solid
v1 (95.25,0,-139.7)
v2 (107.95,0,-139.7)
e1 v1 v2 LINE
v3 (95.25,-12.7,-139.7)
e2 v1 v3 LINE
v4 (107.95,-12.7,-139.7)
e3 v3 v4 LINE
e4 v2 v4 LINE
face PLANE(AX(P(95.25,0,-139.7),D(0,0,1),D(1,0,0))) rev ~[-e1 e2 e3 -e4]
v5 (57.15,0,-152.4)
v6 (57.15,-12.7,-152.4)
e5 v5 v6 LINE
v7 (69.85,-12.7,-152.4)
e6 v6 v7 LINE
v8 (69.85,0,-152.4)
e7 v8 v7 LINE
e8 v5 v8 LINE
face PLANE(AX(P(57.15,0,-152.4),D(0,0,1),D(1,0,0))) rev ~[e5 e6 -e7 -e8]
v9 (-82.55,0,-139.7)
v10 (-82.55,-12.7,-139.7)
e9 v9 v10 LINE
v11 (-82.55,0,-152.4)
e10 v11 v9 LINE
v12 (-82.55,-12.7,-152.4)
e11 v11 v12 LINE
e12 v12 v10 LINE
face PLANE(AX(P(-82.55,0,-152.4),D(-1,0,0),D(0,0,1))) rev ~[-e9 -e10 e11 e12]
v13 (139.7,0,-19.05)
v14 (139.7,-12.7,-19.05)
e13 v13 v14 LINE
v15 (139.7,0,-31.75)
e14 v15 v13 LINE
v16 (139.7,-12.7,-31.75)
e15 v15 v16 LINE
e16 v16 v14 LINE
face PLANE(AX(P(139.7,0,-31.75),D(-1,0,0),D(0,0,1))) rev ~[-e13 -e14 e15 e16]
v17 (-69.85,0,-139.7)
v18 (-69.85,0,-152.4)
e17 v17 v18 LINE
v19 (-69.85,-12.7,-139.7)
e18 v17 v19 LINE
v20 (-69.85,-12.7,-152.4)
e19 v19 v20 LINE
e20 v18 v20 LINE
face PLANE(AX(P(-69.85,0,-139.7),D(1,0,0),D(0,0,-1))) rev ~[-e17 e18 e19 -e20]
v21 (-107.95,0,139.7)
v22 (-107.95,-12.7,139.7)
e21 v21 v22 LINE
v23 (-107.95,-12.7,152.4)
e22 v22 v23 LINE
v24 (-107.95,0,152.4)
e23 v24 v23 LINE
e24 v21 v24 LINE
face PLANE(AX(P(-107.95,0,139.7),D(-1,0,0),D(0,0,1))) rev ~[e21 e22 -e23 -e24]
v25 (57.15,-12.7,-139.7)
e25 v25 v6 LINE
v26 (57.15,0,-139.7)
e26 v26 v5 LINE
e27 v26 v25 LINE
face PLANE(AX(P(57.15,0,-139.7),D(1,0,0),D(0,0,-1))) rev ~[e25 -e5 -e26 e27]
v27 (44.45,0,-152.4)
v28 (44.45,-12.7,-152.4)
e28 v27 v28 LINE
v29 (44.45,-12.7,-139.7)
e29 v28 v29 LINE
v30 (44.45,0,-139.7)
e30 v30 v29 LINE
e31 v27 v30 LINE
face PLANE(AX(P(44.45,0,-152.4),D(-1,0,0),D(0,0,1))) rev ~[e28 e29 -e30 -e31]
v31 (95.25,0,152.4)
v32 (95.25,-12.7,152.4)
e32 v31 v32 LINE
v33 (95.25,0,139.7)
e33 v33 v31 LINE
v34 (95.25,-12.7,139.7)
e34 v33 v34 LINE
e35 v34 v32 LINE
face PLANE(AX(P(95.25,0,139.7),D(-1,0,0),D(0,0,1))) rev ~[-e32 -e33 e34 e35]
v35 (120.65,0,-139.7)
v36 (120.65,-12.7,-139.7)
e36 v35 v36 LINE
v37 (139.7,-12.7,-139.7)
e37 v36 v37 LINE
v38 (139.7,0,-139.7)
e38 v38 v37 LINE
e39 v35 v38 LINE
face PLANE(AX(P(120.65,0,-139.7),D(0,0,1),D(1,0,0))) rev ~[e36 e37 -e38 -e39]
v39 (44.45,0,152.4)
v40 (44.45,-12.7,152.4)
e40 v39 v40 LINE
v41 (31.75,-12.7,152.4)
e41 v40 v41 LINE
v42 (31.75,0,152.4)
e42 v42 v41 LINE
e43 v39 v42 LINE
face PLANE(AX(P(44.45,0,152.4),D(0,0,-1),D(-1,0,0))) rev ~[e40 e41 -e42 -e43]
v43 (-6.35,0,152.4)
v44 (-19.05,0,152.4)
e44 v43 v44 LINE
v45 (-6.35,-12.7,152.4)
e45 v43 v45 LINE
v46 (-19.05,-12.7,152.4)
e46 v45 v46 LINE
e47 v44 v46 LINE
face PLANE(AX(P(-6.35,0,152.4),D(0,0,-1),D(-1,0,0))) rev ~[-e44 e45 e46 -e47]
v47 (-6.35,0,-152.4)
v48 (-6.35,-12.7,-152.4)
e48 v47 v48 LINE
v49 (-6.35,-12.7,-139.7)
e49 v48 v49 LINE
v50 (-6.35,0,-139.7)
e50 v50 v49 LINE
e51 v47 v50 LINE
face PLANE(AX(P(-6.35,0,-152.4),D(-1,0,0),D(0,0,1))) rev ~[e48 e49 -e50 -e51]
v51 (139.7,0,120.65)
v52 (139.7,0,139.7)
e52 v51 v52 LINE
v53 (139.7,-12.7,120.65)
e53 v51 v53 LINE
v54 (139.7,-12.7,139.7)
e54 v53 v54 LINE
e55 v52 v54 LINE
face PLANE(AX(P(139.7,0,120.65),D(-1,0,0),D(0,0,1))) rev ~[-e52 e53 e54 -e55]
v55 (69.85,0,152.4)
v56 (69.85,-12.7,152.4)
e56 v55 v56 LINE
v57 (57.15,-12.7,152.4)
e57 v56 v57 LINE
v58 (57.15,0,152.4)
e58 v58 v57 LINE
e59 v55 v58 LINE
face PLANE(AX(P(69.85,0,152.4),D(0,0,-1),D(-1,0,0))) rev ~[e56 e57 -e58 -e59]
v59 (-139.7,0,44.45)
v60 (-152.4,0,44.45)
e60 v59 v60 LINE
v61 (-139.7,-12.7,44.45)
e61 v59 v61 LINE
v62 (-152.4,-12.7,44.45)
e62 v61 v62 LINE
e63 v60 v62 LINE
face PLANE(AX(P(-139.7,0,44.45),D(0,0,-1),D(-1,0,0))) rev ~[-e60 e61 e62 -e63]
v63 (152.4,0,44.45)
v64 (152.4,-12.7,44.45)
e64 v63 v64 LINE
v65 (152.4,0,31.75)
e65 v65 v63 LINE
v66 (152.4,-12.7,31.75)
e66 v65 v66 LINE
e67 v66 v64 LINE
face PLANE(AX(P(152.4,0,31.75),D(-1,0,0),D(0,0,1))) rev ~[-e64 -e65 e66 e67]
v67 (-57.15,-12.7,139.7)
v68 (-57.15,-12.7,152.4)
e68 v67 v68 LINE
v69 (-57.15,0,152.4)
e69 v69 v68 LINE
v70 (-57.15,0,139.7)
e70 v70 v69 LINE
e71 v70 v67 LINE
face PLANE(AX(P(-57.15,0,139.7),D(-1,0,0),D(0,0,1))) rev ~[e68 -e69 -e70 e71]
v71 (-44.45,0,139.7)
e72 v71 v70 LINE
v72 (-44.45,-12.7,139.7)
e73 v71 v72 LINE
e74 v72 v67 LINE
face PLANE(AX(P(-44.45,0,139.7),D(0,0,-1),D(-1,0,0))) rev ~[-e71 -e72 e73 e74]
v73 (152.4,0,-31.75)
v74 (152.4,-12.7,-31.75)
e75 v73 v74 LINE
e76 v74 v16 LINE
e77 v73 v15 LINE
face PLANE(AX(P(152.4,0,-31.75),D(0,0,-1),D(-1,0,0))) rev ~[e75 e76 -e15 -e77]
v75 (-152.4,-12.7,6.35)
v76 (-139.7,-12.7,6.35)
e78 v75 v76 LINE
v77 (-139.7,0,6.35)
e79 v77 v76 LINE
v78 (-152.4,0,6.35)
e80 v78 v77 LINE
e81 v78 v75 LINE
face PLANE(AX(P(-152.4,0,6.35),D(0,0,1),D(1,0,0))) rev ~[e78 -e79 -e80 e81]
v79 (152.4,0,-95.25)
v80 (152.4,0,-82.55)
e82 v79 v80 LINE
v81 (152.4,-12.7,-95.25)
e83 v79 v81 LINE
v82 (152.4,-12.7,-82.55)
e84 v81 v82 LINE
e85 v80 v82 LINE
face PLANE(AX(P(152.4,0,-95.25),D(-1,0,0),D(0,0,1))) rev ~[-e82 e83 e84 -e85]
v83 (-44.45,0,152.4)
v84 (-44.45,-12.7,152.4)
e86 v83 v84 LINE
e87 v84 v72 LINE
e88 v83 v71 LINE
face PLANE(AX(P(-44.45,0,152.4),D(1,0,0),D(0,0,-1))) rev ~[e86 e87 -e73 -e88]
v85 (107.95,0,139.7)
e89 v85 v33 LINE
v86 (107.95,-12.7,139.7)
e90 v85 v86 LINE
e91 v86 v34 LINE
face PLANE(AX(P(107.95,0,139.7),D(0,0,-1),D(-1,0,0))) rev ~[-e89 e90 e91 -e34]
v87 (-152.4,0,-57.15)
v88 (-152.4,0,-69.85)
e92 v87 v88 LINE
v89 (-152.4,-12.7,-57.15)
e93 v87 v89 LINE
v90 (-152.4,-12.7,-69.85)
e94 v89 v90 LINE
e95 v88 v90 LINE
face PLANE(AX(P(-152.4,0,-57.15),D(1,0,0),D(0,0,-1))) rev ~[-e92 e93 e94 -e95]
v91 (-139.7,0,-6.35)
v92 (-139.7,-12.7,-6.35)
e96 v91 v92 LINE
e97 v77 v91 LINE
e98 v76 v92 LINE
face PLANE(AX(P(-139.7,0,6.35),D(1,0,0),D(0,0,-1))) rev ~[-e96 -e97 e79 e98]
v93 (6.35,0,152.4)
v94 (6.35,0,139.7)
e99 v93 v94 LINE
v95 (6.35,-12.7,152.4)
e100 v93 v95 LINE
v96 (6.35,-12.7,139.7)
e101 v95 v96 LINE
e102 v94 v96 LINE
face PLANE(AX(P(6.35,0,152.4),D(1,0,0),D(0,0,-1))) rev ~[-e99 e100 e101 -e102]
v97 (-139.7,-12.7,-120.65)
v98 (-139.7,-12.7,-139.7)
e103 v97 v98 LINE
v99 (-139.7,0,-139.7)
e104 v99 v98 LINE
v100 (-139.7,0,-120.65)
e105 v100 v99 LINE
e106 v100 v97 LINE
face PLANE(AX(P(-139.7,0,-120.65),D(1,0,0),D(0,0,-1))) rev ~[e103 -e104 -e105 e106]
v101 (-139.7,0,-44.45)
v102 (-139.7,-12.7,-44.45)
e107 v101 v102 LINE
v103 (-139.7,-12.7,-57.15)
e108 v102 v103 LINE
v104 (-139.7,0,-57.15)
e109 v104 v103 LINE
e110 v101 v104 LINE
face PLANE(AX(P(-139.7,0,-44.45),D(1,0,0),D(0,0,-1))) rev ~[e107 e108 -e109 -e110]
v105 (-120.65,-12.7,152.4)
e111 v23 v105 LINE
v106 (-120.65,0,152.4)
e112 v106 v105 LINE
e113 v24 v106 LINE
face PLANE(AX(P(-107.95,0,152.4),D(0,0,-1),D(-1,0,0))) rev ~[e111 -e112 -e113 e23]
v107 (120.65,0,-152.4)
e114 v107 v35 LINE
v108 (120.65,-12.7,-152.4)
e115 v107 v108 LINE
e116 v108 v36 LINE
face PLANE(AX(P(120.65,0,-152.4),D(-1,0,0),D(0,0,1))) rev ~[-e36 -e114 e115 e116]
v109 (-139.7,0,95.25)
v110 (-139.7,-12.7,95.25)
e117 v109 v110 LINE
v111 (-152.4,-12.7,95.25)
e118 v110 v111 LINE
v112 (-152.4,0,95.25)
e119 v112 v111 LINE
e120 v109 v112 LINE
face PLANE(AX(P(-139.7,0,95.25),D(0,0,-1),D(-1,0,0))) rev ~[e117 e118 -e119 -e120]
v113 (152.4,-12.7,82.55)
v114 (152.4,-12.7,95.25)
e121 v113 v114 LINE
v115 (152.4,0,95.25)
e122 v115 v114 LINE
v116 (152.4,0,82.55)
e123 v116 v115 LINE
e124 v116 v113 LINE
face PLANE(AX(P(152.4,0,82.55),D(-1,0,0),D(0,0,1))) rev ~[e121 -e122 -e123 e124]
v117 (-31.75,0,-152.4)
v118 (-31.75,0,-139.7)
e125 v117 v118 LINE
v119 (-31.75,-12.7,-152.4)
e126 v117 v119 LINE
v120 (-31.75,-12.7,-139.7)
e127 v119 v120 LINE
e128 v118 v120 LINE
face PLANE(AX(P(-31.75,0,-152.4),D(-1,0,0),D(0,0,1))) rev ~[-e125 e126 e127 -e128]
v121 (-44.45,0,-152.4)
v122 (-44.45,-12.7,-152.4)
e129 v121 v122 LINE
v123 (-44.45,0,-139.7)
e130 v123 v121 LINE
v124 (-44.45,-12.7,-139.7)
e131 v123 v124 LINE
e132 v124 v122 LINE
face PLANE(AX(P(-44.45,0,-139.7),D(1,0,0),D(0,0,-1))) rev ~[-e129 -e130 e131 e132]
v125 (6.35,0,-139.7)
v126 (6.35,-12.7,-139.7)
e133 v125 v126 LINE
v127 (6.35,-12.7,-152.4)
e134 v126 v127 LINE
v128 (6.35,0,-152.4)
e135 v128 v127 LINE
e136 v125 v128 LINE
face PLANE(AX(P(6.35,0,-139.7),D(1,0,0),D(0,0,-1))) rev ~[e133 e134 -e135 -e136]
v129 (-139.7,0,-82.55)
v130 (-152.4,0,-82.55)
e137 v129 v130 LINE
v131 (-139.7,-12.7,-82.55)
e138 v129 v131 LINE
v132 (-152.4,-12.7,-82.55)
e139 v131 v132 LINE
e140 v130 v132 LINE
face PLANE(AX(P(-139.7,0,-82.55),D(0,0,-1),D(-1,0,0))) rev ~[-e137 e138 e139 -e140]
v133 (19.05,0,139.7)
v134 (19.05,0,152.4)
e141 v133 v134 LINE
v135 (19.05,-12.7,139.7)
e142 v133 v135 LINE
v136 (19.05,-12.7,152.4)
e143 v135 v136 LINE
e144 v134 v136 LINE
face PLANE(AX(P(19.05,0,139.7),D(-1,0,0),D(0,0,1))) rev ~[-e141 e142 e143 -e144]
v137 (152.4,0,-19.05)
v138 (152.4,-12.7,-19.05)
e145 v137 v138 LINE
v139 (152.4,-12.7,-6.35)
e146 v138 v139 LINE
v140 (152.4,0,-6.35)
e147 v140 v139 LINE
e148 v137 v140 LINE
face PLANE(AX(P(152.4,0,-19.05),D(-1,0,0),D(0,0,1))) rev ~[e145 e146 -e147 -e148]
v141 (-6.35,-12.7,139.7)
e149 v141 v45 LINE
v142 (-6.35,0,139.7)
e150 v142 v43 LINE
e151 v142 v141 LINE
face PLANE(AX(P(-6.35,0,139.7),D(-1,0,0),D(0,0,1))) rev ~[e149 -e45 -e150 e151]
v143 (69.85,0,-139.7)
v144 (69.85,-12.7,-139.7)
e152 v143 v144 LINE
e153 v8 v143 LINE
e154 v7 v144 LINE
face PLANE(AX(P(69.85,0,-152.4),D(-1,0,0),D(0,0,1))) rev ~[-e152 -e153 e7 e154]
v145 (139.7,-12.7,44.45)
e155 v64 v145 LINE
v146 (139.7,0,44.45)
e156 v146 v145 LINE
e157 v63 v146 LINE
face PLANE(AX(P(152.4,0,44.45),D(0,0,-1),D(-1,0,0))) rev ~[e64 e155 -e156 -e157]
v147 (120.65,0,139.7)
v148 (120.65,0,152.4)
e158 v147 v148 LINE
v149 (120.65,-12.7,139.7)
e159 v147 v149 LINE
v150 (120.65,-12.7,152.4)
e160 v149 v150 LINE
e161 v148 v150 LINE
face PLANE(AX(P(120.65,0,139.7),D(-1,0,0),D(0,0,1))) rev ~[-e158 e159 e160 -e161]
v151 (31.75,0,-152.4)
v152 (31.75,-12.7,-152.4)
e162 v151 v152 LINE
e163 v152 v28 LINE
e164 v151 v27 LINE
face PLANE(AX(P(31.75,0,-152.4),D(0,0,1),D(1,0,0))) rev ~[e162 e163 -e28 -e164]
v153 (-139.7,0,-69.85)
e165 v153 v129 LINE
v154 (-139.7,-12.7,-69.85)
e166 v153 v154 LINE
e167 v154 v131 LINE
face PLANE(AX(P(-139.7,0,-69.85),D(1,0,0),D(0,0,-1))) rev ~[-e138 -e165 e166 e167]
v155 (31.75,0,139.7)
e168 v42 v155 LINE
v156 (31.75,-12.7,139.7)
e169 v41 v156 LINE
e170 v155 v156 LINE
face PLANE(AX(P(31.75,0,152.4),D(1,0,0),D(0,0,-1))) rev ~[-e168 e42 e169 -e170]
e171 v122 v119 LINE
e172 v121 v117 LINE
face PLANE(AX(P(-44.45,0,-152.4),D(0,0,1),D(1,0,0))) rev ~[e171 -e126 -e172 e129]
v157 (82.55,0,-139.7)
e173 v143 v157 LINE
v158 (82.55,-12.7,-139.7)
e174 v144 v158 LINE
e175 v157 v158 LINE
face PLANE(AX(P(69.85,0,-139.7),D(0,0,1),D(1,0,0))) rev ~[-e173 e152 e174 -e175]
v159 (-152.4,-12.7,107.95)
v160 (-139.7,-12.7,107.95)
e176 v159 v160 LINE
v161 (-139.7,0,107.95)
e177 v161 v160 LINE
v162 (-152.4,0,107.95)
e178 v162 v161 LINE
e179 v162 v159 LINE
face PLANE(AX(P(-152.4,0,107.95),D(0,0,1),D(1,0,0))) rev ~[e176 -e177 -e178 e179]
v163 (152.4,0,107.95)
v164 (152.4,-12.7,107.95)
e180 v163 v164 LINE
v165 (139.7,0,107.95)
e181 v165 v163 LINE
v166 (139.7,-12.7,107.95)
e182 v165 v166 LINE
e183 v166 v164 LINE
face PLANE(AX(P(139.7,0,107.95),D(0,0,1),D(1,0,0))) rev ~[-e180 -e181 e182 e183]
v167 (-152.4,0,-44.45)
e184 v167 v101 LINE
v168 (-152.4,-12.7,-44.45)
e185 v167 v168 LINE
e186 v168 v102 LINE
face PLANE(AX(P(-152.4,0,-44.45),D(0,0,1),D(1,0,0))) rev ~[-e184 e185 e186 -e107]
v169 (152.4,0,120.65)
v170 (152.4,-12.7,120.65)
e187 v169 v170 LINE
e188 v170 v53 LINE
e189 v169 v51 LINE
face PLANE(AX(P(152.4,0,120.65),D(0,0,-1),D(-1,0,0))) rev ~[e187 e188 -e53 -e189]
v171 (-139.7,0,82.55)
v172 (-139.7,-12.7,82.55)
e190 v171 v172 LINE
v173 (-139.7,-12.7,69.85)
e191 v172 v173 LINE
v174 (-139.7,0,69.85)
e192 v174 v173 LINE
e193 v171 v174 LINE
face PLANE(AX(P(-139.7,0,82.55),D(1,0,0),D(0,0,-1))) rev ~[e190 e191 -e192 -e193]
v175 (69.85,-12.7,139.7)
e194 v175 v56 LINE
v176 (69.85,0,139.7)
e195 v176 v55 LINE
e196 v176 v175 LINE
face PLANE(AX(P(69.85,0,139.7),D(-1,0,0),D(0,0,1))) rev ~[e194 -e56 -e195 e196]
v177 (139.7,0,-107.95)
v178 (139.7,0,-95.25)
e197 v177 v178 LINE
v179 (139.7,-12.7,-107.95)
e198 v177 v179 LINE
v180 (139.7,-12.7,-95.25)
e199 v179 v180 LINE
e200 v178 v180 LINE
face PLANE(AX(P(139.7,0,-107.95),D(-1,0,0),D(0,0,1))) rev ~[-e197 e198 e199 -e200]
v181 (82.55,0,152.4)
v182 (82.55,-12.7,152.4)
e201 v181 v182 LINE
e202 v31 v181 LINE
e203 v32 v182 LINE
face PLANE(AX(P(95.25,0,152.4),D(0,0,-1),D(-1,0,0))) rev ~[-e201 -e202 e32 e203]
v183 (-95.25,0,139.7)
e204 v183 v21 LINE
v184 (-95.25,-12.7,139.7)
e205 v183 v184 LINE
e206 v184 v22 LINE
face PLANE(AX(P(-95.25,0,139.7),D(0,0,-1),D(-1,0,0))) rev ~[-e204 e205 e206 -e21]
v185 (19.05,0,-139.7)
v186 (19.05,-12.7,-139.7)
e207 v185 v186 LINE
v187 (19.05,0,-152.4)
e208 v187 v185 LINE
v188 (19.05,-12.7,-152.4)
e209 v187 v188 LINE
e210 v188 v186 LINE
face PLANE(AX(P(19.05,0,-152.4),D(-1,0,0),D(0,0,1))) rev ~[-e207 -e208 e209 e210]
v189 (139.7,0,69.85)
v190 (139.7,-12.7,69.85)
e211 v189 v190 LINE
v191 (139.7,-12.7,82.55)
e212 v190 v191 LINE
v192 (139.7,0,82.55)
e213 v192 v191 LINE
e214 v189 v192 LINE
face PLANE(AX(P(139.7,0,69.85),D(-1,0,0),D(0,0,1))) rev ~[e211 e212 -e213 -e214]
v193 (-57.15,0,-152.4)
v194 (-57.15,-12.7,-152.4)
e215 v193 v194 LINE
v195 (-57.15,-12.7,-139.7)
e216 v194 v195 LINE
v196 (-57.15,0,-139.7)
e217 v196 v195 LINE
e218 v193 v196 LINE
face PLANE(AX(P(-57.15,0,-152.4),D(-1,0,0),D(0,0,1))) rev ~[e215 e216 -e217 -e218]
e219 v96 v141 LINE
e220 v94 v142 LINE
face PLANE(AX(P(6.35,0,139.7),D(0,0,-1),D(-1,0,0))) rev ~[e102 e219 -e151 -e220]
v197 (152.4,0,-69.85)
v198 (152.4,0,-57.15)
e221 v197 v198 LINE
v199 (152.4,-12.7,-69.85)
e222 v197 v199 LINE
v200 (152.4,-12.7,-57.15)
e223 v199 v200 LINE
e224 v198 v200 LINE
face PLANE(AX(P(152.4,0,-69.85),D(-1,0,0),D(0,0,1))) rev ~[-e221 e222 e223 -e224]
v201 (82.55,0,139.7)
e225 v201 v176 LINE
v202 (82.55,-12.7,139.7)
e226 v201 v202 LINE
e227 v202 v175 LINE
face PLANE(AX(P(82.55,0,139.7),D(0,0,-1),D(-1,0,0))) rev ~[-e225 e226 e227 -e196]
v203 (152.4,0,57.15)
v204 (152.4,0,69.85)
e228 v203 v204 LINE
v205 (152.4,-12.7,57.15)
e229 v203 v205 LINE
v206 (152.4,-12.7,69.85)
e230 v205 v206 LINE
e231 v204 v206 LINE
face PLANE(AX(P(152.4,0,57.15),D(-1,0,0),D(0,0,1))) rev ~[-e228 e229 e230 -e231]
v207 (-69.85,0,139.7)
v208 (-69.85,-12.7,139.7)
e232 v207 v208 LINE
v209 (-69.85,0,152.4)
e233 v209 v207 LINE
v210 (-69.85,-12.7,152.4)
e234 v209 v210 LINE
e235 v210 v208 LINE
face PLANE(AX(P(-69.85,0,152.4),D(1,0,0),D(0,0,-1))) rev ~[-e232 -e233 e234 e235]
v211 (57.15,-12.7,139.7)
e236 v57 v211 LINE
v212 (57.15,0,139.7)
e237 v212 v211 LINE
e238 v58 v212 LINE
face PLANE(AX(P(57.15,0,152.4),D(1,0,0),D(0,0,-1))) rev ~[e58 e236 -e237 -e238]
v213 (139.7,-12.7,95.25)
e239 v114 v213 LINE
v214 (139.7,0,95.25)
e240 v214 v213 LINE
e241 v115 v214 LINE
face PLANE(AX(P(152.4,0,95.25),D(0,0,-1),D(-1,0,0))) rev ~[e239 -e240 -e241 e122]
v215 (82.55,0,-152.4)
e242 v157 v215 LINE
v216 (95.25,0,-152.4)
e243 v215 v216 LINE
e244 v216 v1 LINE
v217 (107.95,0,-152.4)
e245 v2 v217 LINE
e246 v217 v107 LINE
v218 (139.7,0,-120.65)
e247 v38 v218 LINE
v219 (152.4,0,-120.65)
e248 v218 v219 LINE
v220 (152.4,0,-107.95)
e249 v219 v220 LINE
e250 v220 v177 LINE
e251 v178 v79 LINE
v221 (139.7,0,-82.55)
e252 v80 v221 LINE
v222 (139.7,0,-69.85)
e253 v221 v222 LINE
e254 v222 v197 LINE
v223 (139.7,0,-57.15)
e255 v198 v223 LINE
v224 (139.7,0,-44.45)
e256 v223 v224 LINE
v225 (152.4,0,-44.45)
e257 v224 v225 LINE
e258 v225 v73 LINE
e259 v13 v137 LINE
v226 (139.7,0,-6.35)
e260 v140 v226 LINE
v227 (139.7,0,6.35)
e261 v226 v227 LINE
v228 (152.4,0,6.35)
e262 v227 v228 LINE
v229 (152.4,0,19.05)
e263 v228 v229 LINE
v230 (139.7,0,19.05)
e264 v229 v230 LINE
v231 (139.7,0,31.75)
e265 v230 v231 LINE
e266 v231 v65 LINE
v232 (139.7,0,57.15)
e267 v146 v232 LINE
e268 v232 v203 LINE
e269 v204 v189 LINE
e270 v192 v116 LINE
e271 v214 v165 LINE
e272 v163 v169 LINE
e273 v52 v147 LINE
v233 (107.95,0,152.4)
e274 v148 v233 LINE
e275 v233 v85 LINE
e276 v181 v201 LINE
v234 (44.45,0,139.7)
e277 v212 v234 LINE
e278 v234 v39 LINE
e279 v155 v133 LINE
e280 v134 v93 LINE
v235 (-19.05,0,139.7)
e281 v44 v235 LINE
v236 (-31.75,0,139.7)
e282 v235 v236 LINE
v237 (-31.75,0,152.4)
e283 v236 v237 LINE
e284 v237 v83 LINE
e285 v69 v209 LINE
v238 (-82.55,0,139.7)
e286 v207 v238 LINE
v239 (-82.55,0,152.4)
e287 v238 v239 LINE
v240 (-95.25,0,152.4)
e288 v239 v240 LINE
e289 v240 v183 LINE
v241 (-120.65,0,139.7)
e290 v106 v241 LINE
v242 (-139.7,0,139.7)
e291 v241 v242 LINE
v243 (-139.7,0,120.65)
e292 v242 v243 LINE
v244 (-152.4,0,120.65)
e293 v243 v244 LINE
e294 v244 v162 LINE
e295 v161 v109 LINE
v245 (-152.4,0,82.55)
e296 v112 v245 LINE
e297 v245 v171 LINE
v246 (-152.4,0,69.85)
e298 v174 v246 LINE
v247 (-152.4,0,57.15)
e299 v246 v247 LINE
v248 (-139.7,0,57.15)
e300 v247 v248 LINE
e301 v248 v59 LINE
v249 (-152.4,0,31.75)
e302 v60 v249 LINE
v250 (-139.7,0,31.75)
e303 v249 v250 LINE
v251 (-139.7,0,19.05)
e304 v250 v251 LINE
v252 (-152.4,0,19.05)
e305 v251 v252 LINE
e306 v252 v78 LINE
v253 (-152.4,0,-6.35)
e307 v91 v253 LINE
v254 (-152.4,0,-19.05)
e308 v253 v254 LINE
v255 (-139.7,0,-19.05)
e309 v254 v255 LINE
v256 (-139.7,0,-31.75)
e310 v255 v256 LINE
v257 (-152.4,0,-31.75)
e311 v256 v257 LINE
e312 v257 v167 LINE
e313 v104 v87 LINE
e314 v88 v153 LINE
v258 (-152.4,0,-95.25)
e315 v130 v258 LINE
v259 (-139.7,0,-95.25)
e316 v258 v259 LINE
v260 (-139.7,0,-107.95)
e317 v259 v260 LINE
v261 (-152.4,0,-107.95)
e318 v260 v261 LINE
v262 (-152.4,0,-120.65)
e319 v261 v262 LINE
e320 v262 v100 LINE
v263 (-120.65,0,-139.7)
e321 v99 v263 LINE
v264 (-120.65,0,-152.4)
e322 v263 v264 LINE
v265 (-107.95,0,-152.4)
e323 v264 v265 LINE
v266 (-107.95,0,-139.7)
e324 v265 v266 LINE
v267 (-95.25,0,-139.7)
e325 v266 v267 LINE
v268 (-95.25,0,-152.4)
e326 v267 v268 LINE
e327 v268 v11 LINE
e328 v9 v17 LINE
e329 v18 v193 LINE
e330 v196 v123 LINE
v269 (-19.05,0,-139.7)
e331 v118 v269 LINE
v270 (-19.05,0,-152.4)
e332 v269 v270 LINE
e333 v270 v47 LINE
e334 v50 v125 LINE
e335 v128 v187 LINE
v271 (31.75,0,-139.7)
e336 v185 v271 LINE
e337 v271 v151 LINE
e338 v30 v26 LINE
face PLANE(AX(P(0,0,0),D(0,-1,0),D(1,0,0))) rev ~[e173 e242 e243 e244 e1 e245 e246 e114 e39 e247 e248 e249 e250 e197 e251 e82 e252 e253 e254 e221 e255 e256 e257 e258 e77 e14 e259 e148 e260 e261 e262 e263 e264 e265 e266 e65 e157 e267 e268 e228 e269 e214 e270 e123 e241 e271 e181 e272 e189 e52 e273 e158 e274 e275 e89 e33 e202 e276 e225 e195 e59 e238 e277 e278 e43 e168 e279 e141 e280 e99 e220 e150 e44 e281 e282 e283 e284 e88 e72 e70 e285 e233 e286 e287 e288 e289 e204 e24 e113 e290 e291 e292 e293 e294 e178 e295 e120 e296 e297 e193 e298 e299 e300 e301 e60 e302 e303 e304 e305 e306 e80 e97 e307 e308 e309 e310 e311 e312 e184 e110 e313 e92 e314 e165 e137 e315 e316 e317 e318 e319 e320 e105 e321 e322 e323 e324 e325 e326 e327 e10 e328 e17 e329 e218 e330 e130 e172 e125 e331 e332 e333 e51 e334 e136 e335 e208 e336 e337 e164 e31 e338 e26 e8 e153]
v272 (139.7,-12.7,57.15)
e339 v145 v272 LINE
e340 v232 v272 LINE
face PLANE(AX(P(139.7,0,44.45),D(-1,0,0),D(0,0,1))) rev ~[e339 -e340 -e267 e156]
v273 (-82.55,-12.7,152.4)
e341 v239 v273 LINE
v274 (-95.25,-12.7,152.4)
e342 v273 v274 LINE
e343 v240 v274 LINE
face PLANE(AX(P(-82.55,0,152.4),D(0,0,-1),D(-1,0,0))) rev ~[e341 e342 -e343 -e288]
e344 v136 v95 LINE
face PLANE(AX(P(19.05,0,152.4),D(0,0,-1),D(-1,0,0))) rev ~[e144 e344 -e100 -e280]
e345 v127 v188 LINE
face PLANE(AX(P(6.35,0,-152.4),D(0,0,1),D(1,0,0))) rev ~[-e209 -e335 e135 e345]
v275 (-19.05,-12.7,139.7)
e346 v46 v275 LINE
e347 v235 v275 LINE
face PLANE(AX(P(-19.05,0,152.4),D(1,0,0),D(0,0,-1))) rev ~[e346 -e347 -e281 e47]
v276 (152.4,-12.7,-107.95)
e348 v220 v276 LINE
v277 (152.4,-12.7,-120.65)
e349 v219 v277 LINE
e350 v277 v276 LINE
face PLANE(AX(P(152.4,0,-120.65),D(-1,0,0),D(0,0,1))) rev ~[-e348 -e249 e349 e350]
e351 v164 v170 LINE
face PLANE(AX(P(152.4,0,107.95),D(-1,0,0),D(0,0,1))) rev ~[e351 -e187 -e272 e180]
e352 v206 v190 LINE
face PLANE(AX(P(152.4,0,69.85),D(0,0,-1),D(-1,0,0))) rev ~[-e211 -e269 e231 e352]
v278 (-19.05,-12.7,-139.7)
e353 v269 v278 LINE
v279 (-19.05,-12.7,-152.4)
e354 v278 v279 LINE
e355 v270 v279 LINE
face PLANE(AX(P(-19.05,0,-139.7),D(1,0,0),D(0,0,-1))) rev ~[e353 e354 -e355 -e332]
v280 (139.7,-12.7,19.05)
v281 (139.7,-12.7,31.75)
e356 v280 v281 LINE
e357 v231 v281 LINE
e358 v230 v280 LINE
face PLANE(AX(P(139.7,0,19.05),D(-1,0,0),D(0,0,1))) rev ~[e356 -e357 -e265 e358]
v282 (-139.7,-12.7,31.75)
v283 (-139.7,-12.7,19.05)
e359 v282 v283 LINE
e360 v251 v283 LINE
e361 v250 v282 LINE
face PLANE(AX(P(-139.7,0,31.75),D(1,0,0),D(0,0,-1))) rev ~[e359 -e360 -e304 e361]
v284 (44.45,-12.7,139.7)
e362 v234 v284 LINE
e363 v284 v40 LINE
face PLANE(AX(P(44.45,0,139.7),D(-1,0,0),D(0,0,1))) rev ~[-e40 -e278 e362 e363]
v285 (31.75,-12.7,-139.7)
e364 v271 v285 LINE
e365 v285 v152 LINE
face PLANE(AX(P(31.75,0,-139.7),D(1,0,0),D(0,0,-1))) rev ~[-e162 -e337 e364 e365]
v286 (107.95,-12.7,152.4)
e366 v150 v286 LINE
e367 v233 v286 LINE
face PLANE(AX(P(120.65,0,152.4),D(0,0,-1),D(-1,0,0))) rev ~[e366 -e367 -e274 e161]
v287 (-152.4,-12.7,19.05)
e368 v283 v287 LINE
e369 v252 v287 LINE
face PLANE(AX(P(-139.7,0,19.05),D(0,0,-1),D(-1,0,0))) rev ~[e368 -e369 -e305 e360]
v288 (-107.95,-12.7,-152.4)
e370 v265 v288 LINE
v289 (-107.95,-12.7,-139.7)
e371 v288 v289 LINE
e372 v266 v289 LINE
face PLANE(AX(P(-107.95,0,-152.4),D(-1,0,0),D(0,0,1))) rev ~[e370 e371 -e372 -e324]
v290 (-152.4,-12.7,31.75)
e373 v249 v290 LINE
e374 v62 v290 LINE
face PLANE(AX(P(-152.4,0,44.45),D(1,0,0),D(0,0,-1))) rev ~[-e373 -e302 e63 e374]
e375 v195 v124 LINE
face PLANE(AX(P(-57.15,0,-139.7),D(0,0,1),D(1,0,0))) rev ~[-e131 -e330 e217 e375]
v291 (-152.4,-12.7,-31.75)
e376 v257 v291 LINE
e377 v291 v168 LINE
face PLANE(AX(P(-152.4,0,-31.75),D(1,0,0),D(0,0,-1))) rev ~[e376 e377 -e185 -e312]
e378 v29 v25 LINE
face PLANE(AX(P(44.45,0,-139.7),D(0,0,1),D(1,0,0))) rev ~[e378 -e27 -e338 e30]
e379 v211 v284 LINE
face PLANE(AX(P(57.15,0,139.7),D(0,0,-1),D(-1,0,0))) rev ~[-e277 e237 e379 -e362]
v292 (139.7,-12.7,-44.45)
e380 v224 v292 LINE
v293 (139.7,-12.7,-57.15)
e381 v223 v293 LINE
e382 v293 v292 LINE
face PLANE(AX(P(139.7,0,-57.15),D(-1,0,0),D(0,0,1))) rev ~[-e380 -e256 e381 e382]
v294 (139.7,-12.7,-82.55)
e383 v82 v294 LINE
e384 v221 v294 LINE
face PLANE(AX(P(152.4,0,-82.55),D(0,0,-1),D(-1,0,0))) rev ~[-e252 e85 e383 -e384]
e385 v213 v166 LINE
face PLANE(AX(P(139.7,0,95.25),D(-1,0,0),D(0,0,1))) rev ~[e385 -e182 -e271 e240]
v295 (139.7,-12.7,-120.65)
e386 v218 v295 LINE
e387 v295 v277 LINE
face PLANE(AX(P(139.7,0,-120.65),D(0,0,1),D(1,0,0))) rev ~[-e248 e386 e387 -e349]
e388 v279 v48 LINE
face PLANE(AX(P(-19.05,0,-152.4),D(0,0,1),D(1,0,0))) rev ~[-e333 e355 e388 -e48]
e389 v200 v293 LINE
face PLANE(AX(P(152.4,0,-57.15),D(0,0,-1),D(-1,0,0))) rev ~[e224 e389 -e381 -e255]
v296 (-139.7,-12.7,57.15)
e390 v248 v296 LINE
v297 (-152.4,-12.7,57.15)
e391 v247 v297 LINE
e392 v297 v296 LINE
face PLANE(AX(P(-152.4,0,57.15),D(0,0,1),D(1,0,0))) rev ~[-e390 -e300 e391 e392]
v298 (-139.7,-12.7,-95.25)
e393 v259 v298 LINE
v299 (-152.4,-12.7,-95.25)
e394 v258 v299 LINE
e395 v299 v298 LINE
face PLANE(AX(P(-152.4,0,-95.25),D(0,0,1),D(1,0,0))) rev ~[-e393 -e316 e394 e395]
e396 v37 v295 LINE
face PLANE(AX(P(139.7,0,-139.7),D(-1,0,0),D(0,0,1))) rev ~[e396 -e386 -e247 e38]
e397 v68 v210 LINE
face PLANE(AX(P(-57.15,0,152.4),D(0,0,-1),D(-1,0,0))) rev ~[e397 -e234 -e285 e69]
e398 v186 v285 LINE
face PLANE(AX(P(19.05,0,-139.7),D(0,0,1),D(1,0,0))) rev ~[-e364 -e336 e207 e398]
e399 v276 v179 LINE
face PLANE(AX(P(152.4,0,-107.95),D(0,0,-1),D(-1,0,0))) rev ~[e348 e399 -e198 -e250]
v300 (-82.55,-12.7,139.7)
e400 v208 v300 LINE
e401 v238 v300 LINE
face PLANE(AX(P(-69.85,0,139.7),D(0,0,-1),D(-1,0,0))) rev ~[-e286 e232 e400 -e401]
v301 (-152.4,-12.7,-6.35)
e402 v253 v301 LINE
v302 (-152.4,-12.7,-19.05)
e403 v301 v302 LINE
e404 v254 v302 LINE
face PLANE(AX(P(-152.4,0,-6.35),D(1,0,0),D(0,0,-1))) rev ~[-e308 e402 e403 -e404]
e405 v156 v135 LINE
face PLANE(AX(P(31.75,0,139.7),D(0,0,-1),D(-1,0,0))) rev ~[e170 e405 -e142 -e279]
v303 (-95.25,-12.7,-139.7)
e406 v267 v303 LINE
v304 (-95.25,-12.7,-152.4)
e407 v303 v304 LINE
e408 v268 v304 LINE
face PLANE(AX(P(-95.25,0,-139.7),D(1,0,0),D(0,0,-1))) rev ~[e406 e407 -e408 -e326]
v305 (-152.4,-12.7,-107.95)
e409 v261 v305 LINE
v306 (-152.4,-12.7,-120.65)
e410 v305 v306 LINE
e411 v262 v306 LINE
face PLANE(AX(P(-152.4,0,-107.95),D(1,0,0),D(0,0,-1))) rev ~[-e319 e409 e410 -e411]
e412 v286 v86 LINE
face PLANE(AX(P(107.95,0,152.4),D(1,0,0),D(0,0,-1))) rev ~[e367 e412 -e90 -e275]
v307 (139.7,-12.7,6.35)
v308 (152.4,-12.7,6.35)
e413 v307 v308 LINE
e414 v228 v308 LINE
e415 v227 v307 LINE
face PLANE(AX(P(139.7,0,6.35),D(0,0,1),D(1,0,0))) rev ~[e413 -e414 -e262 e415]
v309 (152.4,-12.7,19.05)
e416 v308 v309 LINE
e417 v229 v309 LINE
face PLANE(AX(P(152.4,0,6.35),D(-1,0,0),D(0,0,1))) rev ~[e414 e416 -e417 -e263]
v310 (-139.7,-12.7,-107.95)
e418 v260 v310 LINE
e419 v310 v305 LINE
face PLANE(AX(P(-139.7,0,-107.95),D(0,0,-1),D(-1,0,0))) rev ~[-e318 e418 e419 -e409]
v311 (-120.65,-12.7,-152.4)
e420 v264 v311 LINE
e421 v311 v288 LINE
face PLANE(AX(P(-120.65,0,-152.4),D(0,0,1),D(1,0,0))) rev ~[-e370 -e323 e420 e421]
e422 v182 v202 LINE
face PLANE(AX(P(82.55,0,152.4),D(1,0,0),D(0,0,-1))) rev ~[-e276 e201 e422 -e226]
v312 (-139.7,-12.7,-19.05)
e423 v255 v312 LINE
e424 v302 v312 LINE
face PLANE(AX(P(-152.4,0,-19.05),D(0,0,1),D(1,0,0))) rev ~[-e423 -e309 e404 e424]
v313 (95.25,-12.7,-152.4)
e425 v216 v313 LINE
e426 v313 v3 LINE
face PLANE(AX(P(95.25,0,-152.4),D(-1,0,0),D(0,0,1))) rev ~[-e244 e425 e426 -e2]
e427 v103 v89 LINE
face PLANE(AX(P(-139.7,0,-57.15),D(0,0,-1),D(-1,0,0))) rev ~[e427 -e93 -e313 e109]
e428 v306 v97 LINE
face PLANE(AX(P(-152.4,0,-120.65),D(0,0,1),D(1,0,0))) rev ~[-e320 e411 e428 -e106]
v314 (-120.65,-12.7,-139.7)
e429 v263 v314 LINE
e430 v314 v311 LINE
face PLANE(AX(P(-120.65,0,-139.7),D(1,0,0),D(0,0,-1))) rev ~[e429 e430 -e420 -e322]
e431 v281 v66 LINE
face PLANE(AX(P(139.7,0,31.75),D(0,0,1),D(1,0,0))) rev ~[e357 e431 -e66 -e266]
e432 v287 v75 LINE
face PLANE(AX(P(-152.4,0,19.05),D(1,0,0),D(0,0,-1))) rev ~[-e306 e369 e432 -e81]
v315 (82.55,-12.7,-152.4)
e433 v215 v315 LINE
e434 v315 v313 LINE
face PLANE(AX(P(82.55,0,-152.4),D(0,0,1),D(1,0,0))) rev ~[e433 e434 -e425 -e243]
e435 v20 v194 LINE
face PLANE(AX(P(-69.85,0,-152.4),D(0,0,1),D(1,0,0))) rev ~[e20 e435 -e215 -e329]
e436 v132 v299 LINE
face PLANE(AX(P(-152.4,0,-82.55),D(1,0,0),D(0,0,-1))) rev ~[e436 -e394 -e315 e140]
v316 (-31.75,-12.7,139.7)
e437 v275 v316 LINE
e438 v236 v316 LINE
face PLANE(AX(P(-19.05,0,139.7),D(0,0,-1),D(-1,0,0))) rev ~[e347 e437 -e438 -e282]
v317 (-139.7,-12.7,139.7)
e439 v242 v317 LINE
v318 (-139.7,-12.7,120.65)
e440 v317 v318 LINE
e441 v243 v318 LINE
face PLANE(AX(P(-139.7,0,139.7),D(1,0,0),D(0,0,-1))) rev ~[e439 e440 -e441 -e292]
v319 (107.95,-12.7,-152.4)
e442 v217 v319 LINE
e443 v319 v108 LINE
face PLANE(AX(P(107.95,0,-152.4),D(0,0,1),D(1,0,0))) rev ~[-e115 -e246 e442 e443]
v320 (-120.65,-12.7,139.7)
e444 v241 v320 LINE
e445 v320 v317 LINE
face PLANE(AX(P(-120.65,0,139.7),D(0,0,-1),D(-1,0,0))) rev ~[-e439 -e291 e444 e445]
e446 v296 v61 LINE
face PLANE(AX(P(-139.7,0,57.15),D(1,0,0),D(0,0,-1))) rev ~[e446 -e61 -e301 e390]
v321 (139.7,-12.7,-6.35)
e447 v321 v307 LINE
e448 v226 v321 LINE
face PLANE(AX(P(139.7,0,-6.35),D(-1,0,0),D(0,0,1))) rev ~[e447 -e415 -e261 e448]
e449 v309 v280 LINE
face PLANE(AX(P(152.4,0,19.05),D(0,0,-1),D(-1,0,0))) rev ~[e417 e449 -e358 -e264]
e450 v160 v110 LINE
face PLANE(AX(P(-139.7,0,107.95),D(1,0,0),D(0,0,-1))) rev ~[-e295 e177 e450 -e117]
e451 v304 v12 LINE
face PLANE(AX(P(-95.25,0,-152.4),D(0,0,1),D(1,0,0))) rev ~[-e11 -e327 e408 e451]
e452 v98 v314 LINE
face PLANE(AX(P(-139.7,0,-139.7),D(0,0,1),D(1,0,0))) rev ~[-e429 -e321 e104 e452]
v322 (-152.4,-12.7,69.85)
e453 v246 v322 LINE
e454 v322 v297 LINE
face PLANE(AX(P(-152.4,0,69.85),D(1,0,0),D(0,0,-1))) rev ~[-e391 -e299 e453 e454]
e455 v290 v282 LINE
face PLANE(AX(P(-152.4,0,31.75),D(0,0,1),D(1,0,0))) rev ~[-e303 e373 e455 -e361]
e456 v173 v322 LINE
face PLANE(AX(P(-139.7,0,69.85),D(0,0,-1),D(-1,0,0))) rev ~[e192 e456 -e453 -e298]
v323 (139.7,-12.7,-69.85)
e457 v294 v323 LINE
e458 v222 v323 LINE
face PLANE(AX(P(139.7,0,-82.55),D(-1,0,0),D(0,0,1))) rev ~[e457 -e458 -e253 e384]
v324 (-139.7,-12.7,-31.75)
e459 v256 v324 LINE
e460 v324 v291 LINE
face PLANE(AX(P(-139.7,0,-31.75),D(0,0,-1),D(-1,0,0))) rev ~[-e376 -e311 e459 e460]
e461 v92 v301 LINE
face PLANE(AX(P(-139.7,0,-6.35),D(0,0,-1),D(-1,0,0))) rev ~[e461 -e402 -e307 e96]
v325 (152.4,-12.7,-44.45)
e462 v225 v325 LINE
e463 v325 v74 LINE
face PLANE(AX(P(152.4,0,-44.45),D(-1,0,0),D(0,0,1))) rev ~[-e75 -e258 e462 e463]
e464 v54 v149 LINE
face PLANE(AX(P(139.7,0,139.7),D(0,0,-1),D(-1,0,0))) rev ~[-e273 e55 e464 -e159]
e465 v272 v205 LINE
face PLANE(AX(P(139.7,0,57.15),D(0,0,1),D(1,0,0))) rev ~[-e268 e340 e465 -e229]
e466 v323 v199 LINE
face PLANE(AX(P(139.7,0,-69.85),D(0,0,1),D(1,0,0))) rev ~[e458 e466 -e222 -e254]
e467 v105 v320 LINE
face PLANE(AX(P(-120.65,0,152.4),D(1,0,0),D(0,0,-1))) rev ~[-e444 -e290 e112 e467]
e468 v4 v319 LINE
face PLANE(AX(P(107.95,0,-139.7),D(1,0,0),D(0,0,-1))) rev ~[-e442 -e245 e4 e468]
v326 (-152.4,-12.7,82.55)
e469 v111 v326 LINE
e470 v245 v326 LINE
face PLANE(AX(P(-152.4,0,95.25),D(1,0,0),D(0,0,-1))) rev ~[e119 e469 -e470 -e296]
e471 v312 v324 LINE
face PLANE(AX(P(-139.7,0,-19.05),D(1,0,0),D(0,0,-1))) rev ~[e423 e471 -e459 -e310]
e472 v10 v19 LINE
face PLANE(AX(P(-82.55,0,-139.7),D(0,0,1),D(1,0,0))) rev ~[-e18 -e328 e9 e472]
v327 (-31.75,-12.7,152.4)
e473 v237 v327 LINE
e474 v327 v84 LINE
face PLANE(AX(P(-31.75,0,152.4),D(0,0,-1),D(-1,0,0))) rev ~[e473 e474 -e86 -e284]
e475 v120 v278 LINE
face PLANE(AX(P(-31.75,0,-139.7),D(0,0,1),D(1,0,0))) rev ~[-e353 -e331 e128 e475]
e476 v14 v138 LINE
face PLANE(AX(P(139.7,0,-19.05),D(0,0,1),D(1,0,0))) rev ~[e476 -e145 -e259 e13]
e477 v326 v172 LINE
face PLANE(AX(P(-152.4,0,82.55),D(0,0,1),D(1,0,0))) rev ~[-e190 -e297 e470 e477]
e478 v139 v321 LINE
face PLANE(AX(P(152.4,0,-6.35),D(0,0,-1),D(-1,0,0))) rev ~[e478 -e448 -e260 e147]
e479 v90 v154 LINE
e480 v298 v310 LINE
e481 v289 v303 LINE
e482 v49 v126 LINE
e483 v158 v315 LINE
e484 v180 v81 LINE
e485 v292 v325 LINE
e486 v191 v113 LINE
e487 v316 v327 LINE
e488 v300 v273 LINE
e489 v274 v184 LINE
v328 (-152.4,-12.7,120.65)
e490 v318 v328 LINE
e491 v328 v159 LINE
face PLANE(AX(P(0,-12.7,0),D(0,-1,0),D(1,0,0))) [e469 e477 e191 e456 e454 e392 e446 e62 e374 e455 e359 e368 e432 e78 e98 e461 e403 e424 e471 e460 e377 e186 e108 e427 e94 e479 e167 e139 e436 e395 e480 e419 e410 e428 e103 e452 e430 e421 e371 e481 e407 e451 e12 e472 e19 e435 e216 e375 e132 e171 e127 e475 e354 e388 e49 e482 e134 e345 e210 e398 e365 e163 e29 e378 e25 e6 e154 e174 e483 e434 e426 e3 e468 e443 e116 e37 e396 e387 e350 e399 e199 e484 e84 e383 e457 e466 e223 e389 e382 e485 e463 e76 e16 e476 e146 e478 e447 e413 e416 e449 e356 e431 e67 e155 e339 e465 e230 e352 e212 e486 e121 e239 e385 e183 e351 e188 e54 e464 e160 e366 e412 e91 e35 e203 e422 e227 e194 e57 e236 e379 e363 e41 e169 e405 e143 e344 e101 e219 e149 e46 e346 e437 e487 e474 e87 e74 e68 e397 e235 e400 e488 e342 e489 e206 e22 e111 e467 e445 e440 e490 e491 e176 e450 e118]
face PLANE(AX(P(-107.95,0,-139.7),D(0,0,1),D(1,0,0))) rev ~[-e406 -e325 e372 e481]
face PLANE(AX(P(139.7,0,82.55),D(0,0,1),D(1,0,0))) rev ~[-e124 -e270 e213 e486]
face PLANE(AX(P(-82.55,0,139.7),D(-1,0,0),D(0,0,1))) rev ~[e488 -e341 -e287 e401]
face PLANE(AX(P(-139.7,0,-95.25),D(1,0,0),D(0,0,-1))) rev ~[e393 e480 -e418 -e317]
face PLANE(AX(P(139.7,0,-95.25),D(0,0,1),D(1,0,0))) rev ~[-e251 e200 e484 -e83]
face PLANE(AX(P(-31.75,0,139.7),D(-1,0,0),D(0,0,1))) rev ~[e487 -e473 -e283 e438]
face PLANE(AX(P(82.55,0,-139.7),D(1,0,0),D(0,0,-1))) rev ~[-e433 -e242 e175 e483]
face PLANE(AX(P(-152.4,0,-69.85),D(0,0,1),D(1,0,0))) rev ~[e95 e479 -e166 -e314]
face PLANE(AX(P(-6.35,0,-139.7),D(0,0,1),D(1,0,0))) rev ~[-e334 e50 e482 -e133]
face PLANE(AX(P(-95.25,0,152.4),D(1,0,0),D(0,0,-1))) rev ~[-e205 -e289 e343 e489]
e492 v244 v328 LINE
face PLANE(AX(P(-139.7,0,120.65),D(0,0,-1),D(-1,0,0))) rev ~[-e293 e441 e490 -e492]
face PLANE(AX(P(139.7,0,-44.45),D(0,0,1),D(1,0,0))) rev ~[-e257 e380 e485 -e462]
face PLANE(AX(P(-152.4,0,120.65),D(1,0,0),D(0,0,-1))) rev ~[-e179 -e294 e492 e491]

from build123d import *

# Parameters (mm, degrees)
F1_DEPTH = 12.7


with BuildPart() as f1:
    # F0 (on Front) → F1 (new body)
    with BuildSketch(Plane.XZ):
        Polygon((-120.65, 152.4), (-120.65, 139.7), (-139.7, 139.7), (-139.7, 120.65), (-152.4, 120.65), (-152.4, 107.95), (-139.7, 107.95), (-139.7, 95.25), (-152.4, 95.25), (-152.4, 82.55), (-139.7, 82.55), (-139.7, 69.85), (-152.4, 69.85), (-152.4, 57.15), (-139.7, 57.15), (-139.7, 44.45), (-152.4, 44.45), (-152.4, 31.75), (-139.7, 31.75), (-139.7, 19.05), (-152.4, 19.05), (-152.4, 6.35), (-139.7, 6.35), (-139.7, -6.35), (-152.4, -6.35), (-152.4, -19.05), (-139.7, -19.05), (-139.7, -31.75), (-152.4, -31.75), (-152.4, -44.45), (-139.7, -44.45), (-139.7, -57.15), (-152.4, -57.15), (-152.4, -69.85), (-139.7, -69.85), (-139.7, -82.55), (-152.4, -82.55), (-152.4, -95.25), (-139.7, -95.25), (-139.7, -107.95), (-152.4, -107.95), (-152.4, -120.65), (-139.7, -120.65), (-139.7, -139.7), (-120.65, -139.7), (-120.65, -152.4), (-107.95, -152.4), (-107.95, -139.7), (-95.25, -139.7), (-95.25, -152.4), (-82.55, -152.4), (-82.55, -139.7), (-69.85, -139.7), (-69.85, -152.4), (-57.15, -152.4), (-57.15, -139.7), (-44.45, -139.7), (-44.45, -152.4), (-31.75, -152.4), (-31.75, -139.7), (-19.05, -139.7), (-19.05, -152.4), (-6.35, -152.4), (-6.35, -139.7), (6.35, -139.7), (6.35, -152.4), (19.05, -152.4), (19.05, -139.7), (31.75, -139.7), (31.75, -152.4), (44.45, -152.4), (44.45, -139.7), (57.15, -139.7), (57.15, -152.4), (69.85, -152.4), (69.85, -139.7), (82.55, -139.7), (82.55, -152.4), (95.25, -152.4), (95.25, -139.7), (107.95, -139.7), (107.95, -152.4), (120.65, -152.4), (120.65, -139.7), (139.7, -139.7), (139.7, -120.65), (152.4, -120.65), (152.4, -107.95), (139.7, -107.95), (139.7, -95.25), (152.4, -95.25), (152.4, -82.55), (139.7, -82.55), (139.7, -69.85), (152.4, -69.85), (152.4, -57.15), (139.7, -57.15), (139.7, -44.45), (152.4, -44.45), (152.4, -31.75), (139.7, -31.75), (139.7, -19.05), (152.4, -19.05), (152.4, -6.35), (139.7, -6.35), (139.7, 6.35), (152.4, 6.35), (152.4, 19.05), (139.7, 19.05), (139.7, 31.75), (152.4, 31.75), (152.4, 44.45), (139.7, 44.45), (139.7, 57.15), (152.4, 57.15), (152.4, 69.85), (139.7, 69.85), (139.7, 82.55), (152.4, 82.55), (152.4, 95.25), (139.7, 95.25), (139.7, 107.95), (152.4, 107.95), (152.4, 120.65), (139.7, 120.65), (139.7, 139.7), (120.65, 139.7), (120.65, 152.4), (107.95, 152.4), (107.95, 139.7), (95.25, 139.7), (95.25, 152.4), (82.55, 152.4), (82.55, 139.7), (69.85, 139.7), (69.85, 152.4), (57.15, 152.4), (57.15, 139.7), (44.45, 139.7), (44.45, 152.4), (31.75, 152.4), (31.75, 139.7), (19.05, 139.7), (19.05, 152.4), (6.35, 152.4), (6.35, 139.7), (-6.35, 139.7), (-6.35, 152.4), (-19.05, 152.4), (-19.05, 139.7), (-31.75, 139.7), (-31.75, 152.4), (-44.45, 152.4), (-44.45, 139.7), (-57.15, 139.7), (-57.15, 152.4), (-69.85, 152.4), (-69.85, 139.7), (-82.55, 139.7), (-82.55, 152.4), (-95.25, 152.4), (-95.25, 139.7), (-107.95, 139.7), (-107.95, 152.4), align=None)
    extrude(amount=F1_DEPTH)


solid = f1.part
